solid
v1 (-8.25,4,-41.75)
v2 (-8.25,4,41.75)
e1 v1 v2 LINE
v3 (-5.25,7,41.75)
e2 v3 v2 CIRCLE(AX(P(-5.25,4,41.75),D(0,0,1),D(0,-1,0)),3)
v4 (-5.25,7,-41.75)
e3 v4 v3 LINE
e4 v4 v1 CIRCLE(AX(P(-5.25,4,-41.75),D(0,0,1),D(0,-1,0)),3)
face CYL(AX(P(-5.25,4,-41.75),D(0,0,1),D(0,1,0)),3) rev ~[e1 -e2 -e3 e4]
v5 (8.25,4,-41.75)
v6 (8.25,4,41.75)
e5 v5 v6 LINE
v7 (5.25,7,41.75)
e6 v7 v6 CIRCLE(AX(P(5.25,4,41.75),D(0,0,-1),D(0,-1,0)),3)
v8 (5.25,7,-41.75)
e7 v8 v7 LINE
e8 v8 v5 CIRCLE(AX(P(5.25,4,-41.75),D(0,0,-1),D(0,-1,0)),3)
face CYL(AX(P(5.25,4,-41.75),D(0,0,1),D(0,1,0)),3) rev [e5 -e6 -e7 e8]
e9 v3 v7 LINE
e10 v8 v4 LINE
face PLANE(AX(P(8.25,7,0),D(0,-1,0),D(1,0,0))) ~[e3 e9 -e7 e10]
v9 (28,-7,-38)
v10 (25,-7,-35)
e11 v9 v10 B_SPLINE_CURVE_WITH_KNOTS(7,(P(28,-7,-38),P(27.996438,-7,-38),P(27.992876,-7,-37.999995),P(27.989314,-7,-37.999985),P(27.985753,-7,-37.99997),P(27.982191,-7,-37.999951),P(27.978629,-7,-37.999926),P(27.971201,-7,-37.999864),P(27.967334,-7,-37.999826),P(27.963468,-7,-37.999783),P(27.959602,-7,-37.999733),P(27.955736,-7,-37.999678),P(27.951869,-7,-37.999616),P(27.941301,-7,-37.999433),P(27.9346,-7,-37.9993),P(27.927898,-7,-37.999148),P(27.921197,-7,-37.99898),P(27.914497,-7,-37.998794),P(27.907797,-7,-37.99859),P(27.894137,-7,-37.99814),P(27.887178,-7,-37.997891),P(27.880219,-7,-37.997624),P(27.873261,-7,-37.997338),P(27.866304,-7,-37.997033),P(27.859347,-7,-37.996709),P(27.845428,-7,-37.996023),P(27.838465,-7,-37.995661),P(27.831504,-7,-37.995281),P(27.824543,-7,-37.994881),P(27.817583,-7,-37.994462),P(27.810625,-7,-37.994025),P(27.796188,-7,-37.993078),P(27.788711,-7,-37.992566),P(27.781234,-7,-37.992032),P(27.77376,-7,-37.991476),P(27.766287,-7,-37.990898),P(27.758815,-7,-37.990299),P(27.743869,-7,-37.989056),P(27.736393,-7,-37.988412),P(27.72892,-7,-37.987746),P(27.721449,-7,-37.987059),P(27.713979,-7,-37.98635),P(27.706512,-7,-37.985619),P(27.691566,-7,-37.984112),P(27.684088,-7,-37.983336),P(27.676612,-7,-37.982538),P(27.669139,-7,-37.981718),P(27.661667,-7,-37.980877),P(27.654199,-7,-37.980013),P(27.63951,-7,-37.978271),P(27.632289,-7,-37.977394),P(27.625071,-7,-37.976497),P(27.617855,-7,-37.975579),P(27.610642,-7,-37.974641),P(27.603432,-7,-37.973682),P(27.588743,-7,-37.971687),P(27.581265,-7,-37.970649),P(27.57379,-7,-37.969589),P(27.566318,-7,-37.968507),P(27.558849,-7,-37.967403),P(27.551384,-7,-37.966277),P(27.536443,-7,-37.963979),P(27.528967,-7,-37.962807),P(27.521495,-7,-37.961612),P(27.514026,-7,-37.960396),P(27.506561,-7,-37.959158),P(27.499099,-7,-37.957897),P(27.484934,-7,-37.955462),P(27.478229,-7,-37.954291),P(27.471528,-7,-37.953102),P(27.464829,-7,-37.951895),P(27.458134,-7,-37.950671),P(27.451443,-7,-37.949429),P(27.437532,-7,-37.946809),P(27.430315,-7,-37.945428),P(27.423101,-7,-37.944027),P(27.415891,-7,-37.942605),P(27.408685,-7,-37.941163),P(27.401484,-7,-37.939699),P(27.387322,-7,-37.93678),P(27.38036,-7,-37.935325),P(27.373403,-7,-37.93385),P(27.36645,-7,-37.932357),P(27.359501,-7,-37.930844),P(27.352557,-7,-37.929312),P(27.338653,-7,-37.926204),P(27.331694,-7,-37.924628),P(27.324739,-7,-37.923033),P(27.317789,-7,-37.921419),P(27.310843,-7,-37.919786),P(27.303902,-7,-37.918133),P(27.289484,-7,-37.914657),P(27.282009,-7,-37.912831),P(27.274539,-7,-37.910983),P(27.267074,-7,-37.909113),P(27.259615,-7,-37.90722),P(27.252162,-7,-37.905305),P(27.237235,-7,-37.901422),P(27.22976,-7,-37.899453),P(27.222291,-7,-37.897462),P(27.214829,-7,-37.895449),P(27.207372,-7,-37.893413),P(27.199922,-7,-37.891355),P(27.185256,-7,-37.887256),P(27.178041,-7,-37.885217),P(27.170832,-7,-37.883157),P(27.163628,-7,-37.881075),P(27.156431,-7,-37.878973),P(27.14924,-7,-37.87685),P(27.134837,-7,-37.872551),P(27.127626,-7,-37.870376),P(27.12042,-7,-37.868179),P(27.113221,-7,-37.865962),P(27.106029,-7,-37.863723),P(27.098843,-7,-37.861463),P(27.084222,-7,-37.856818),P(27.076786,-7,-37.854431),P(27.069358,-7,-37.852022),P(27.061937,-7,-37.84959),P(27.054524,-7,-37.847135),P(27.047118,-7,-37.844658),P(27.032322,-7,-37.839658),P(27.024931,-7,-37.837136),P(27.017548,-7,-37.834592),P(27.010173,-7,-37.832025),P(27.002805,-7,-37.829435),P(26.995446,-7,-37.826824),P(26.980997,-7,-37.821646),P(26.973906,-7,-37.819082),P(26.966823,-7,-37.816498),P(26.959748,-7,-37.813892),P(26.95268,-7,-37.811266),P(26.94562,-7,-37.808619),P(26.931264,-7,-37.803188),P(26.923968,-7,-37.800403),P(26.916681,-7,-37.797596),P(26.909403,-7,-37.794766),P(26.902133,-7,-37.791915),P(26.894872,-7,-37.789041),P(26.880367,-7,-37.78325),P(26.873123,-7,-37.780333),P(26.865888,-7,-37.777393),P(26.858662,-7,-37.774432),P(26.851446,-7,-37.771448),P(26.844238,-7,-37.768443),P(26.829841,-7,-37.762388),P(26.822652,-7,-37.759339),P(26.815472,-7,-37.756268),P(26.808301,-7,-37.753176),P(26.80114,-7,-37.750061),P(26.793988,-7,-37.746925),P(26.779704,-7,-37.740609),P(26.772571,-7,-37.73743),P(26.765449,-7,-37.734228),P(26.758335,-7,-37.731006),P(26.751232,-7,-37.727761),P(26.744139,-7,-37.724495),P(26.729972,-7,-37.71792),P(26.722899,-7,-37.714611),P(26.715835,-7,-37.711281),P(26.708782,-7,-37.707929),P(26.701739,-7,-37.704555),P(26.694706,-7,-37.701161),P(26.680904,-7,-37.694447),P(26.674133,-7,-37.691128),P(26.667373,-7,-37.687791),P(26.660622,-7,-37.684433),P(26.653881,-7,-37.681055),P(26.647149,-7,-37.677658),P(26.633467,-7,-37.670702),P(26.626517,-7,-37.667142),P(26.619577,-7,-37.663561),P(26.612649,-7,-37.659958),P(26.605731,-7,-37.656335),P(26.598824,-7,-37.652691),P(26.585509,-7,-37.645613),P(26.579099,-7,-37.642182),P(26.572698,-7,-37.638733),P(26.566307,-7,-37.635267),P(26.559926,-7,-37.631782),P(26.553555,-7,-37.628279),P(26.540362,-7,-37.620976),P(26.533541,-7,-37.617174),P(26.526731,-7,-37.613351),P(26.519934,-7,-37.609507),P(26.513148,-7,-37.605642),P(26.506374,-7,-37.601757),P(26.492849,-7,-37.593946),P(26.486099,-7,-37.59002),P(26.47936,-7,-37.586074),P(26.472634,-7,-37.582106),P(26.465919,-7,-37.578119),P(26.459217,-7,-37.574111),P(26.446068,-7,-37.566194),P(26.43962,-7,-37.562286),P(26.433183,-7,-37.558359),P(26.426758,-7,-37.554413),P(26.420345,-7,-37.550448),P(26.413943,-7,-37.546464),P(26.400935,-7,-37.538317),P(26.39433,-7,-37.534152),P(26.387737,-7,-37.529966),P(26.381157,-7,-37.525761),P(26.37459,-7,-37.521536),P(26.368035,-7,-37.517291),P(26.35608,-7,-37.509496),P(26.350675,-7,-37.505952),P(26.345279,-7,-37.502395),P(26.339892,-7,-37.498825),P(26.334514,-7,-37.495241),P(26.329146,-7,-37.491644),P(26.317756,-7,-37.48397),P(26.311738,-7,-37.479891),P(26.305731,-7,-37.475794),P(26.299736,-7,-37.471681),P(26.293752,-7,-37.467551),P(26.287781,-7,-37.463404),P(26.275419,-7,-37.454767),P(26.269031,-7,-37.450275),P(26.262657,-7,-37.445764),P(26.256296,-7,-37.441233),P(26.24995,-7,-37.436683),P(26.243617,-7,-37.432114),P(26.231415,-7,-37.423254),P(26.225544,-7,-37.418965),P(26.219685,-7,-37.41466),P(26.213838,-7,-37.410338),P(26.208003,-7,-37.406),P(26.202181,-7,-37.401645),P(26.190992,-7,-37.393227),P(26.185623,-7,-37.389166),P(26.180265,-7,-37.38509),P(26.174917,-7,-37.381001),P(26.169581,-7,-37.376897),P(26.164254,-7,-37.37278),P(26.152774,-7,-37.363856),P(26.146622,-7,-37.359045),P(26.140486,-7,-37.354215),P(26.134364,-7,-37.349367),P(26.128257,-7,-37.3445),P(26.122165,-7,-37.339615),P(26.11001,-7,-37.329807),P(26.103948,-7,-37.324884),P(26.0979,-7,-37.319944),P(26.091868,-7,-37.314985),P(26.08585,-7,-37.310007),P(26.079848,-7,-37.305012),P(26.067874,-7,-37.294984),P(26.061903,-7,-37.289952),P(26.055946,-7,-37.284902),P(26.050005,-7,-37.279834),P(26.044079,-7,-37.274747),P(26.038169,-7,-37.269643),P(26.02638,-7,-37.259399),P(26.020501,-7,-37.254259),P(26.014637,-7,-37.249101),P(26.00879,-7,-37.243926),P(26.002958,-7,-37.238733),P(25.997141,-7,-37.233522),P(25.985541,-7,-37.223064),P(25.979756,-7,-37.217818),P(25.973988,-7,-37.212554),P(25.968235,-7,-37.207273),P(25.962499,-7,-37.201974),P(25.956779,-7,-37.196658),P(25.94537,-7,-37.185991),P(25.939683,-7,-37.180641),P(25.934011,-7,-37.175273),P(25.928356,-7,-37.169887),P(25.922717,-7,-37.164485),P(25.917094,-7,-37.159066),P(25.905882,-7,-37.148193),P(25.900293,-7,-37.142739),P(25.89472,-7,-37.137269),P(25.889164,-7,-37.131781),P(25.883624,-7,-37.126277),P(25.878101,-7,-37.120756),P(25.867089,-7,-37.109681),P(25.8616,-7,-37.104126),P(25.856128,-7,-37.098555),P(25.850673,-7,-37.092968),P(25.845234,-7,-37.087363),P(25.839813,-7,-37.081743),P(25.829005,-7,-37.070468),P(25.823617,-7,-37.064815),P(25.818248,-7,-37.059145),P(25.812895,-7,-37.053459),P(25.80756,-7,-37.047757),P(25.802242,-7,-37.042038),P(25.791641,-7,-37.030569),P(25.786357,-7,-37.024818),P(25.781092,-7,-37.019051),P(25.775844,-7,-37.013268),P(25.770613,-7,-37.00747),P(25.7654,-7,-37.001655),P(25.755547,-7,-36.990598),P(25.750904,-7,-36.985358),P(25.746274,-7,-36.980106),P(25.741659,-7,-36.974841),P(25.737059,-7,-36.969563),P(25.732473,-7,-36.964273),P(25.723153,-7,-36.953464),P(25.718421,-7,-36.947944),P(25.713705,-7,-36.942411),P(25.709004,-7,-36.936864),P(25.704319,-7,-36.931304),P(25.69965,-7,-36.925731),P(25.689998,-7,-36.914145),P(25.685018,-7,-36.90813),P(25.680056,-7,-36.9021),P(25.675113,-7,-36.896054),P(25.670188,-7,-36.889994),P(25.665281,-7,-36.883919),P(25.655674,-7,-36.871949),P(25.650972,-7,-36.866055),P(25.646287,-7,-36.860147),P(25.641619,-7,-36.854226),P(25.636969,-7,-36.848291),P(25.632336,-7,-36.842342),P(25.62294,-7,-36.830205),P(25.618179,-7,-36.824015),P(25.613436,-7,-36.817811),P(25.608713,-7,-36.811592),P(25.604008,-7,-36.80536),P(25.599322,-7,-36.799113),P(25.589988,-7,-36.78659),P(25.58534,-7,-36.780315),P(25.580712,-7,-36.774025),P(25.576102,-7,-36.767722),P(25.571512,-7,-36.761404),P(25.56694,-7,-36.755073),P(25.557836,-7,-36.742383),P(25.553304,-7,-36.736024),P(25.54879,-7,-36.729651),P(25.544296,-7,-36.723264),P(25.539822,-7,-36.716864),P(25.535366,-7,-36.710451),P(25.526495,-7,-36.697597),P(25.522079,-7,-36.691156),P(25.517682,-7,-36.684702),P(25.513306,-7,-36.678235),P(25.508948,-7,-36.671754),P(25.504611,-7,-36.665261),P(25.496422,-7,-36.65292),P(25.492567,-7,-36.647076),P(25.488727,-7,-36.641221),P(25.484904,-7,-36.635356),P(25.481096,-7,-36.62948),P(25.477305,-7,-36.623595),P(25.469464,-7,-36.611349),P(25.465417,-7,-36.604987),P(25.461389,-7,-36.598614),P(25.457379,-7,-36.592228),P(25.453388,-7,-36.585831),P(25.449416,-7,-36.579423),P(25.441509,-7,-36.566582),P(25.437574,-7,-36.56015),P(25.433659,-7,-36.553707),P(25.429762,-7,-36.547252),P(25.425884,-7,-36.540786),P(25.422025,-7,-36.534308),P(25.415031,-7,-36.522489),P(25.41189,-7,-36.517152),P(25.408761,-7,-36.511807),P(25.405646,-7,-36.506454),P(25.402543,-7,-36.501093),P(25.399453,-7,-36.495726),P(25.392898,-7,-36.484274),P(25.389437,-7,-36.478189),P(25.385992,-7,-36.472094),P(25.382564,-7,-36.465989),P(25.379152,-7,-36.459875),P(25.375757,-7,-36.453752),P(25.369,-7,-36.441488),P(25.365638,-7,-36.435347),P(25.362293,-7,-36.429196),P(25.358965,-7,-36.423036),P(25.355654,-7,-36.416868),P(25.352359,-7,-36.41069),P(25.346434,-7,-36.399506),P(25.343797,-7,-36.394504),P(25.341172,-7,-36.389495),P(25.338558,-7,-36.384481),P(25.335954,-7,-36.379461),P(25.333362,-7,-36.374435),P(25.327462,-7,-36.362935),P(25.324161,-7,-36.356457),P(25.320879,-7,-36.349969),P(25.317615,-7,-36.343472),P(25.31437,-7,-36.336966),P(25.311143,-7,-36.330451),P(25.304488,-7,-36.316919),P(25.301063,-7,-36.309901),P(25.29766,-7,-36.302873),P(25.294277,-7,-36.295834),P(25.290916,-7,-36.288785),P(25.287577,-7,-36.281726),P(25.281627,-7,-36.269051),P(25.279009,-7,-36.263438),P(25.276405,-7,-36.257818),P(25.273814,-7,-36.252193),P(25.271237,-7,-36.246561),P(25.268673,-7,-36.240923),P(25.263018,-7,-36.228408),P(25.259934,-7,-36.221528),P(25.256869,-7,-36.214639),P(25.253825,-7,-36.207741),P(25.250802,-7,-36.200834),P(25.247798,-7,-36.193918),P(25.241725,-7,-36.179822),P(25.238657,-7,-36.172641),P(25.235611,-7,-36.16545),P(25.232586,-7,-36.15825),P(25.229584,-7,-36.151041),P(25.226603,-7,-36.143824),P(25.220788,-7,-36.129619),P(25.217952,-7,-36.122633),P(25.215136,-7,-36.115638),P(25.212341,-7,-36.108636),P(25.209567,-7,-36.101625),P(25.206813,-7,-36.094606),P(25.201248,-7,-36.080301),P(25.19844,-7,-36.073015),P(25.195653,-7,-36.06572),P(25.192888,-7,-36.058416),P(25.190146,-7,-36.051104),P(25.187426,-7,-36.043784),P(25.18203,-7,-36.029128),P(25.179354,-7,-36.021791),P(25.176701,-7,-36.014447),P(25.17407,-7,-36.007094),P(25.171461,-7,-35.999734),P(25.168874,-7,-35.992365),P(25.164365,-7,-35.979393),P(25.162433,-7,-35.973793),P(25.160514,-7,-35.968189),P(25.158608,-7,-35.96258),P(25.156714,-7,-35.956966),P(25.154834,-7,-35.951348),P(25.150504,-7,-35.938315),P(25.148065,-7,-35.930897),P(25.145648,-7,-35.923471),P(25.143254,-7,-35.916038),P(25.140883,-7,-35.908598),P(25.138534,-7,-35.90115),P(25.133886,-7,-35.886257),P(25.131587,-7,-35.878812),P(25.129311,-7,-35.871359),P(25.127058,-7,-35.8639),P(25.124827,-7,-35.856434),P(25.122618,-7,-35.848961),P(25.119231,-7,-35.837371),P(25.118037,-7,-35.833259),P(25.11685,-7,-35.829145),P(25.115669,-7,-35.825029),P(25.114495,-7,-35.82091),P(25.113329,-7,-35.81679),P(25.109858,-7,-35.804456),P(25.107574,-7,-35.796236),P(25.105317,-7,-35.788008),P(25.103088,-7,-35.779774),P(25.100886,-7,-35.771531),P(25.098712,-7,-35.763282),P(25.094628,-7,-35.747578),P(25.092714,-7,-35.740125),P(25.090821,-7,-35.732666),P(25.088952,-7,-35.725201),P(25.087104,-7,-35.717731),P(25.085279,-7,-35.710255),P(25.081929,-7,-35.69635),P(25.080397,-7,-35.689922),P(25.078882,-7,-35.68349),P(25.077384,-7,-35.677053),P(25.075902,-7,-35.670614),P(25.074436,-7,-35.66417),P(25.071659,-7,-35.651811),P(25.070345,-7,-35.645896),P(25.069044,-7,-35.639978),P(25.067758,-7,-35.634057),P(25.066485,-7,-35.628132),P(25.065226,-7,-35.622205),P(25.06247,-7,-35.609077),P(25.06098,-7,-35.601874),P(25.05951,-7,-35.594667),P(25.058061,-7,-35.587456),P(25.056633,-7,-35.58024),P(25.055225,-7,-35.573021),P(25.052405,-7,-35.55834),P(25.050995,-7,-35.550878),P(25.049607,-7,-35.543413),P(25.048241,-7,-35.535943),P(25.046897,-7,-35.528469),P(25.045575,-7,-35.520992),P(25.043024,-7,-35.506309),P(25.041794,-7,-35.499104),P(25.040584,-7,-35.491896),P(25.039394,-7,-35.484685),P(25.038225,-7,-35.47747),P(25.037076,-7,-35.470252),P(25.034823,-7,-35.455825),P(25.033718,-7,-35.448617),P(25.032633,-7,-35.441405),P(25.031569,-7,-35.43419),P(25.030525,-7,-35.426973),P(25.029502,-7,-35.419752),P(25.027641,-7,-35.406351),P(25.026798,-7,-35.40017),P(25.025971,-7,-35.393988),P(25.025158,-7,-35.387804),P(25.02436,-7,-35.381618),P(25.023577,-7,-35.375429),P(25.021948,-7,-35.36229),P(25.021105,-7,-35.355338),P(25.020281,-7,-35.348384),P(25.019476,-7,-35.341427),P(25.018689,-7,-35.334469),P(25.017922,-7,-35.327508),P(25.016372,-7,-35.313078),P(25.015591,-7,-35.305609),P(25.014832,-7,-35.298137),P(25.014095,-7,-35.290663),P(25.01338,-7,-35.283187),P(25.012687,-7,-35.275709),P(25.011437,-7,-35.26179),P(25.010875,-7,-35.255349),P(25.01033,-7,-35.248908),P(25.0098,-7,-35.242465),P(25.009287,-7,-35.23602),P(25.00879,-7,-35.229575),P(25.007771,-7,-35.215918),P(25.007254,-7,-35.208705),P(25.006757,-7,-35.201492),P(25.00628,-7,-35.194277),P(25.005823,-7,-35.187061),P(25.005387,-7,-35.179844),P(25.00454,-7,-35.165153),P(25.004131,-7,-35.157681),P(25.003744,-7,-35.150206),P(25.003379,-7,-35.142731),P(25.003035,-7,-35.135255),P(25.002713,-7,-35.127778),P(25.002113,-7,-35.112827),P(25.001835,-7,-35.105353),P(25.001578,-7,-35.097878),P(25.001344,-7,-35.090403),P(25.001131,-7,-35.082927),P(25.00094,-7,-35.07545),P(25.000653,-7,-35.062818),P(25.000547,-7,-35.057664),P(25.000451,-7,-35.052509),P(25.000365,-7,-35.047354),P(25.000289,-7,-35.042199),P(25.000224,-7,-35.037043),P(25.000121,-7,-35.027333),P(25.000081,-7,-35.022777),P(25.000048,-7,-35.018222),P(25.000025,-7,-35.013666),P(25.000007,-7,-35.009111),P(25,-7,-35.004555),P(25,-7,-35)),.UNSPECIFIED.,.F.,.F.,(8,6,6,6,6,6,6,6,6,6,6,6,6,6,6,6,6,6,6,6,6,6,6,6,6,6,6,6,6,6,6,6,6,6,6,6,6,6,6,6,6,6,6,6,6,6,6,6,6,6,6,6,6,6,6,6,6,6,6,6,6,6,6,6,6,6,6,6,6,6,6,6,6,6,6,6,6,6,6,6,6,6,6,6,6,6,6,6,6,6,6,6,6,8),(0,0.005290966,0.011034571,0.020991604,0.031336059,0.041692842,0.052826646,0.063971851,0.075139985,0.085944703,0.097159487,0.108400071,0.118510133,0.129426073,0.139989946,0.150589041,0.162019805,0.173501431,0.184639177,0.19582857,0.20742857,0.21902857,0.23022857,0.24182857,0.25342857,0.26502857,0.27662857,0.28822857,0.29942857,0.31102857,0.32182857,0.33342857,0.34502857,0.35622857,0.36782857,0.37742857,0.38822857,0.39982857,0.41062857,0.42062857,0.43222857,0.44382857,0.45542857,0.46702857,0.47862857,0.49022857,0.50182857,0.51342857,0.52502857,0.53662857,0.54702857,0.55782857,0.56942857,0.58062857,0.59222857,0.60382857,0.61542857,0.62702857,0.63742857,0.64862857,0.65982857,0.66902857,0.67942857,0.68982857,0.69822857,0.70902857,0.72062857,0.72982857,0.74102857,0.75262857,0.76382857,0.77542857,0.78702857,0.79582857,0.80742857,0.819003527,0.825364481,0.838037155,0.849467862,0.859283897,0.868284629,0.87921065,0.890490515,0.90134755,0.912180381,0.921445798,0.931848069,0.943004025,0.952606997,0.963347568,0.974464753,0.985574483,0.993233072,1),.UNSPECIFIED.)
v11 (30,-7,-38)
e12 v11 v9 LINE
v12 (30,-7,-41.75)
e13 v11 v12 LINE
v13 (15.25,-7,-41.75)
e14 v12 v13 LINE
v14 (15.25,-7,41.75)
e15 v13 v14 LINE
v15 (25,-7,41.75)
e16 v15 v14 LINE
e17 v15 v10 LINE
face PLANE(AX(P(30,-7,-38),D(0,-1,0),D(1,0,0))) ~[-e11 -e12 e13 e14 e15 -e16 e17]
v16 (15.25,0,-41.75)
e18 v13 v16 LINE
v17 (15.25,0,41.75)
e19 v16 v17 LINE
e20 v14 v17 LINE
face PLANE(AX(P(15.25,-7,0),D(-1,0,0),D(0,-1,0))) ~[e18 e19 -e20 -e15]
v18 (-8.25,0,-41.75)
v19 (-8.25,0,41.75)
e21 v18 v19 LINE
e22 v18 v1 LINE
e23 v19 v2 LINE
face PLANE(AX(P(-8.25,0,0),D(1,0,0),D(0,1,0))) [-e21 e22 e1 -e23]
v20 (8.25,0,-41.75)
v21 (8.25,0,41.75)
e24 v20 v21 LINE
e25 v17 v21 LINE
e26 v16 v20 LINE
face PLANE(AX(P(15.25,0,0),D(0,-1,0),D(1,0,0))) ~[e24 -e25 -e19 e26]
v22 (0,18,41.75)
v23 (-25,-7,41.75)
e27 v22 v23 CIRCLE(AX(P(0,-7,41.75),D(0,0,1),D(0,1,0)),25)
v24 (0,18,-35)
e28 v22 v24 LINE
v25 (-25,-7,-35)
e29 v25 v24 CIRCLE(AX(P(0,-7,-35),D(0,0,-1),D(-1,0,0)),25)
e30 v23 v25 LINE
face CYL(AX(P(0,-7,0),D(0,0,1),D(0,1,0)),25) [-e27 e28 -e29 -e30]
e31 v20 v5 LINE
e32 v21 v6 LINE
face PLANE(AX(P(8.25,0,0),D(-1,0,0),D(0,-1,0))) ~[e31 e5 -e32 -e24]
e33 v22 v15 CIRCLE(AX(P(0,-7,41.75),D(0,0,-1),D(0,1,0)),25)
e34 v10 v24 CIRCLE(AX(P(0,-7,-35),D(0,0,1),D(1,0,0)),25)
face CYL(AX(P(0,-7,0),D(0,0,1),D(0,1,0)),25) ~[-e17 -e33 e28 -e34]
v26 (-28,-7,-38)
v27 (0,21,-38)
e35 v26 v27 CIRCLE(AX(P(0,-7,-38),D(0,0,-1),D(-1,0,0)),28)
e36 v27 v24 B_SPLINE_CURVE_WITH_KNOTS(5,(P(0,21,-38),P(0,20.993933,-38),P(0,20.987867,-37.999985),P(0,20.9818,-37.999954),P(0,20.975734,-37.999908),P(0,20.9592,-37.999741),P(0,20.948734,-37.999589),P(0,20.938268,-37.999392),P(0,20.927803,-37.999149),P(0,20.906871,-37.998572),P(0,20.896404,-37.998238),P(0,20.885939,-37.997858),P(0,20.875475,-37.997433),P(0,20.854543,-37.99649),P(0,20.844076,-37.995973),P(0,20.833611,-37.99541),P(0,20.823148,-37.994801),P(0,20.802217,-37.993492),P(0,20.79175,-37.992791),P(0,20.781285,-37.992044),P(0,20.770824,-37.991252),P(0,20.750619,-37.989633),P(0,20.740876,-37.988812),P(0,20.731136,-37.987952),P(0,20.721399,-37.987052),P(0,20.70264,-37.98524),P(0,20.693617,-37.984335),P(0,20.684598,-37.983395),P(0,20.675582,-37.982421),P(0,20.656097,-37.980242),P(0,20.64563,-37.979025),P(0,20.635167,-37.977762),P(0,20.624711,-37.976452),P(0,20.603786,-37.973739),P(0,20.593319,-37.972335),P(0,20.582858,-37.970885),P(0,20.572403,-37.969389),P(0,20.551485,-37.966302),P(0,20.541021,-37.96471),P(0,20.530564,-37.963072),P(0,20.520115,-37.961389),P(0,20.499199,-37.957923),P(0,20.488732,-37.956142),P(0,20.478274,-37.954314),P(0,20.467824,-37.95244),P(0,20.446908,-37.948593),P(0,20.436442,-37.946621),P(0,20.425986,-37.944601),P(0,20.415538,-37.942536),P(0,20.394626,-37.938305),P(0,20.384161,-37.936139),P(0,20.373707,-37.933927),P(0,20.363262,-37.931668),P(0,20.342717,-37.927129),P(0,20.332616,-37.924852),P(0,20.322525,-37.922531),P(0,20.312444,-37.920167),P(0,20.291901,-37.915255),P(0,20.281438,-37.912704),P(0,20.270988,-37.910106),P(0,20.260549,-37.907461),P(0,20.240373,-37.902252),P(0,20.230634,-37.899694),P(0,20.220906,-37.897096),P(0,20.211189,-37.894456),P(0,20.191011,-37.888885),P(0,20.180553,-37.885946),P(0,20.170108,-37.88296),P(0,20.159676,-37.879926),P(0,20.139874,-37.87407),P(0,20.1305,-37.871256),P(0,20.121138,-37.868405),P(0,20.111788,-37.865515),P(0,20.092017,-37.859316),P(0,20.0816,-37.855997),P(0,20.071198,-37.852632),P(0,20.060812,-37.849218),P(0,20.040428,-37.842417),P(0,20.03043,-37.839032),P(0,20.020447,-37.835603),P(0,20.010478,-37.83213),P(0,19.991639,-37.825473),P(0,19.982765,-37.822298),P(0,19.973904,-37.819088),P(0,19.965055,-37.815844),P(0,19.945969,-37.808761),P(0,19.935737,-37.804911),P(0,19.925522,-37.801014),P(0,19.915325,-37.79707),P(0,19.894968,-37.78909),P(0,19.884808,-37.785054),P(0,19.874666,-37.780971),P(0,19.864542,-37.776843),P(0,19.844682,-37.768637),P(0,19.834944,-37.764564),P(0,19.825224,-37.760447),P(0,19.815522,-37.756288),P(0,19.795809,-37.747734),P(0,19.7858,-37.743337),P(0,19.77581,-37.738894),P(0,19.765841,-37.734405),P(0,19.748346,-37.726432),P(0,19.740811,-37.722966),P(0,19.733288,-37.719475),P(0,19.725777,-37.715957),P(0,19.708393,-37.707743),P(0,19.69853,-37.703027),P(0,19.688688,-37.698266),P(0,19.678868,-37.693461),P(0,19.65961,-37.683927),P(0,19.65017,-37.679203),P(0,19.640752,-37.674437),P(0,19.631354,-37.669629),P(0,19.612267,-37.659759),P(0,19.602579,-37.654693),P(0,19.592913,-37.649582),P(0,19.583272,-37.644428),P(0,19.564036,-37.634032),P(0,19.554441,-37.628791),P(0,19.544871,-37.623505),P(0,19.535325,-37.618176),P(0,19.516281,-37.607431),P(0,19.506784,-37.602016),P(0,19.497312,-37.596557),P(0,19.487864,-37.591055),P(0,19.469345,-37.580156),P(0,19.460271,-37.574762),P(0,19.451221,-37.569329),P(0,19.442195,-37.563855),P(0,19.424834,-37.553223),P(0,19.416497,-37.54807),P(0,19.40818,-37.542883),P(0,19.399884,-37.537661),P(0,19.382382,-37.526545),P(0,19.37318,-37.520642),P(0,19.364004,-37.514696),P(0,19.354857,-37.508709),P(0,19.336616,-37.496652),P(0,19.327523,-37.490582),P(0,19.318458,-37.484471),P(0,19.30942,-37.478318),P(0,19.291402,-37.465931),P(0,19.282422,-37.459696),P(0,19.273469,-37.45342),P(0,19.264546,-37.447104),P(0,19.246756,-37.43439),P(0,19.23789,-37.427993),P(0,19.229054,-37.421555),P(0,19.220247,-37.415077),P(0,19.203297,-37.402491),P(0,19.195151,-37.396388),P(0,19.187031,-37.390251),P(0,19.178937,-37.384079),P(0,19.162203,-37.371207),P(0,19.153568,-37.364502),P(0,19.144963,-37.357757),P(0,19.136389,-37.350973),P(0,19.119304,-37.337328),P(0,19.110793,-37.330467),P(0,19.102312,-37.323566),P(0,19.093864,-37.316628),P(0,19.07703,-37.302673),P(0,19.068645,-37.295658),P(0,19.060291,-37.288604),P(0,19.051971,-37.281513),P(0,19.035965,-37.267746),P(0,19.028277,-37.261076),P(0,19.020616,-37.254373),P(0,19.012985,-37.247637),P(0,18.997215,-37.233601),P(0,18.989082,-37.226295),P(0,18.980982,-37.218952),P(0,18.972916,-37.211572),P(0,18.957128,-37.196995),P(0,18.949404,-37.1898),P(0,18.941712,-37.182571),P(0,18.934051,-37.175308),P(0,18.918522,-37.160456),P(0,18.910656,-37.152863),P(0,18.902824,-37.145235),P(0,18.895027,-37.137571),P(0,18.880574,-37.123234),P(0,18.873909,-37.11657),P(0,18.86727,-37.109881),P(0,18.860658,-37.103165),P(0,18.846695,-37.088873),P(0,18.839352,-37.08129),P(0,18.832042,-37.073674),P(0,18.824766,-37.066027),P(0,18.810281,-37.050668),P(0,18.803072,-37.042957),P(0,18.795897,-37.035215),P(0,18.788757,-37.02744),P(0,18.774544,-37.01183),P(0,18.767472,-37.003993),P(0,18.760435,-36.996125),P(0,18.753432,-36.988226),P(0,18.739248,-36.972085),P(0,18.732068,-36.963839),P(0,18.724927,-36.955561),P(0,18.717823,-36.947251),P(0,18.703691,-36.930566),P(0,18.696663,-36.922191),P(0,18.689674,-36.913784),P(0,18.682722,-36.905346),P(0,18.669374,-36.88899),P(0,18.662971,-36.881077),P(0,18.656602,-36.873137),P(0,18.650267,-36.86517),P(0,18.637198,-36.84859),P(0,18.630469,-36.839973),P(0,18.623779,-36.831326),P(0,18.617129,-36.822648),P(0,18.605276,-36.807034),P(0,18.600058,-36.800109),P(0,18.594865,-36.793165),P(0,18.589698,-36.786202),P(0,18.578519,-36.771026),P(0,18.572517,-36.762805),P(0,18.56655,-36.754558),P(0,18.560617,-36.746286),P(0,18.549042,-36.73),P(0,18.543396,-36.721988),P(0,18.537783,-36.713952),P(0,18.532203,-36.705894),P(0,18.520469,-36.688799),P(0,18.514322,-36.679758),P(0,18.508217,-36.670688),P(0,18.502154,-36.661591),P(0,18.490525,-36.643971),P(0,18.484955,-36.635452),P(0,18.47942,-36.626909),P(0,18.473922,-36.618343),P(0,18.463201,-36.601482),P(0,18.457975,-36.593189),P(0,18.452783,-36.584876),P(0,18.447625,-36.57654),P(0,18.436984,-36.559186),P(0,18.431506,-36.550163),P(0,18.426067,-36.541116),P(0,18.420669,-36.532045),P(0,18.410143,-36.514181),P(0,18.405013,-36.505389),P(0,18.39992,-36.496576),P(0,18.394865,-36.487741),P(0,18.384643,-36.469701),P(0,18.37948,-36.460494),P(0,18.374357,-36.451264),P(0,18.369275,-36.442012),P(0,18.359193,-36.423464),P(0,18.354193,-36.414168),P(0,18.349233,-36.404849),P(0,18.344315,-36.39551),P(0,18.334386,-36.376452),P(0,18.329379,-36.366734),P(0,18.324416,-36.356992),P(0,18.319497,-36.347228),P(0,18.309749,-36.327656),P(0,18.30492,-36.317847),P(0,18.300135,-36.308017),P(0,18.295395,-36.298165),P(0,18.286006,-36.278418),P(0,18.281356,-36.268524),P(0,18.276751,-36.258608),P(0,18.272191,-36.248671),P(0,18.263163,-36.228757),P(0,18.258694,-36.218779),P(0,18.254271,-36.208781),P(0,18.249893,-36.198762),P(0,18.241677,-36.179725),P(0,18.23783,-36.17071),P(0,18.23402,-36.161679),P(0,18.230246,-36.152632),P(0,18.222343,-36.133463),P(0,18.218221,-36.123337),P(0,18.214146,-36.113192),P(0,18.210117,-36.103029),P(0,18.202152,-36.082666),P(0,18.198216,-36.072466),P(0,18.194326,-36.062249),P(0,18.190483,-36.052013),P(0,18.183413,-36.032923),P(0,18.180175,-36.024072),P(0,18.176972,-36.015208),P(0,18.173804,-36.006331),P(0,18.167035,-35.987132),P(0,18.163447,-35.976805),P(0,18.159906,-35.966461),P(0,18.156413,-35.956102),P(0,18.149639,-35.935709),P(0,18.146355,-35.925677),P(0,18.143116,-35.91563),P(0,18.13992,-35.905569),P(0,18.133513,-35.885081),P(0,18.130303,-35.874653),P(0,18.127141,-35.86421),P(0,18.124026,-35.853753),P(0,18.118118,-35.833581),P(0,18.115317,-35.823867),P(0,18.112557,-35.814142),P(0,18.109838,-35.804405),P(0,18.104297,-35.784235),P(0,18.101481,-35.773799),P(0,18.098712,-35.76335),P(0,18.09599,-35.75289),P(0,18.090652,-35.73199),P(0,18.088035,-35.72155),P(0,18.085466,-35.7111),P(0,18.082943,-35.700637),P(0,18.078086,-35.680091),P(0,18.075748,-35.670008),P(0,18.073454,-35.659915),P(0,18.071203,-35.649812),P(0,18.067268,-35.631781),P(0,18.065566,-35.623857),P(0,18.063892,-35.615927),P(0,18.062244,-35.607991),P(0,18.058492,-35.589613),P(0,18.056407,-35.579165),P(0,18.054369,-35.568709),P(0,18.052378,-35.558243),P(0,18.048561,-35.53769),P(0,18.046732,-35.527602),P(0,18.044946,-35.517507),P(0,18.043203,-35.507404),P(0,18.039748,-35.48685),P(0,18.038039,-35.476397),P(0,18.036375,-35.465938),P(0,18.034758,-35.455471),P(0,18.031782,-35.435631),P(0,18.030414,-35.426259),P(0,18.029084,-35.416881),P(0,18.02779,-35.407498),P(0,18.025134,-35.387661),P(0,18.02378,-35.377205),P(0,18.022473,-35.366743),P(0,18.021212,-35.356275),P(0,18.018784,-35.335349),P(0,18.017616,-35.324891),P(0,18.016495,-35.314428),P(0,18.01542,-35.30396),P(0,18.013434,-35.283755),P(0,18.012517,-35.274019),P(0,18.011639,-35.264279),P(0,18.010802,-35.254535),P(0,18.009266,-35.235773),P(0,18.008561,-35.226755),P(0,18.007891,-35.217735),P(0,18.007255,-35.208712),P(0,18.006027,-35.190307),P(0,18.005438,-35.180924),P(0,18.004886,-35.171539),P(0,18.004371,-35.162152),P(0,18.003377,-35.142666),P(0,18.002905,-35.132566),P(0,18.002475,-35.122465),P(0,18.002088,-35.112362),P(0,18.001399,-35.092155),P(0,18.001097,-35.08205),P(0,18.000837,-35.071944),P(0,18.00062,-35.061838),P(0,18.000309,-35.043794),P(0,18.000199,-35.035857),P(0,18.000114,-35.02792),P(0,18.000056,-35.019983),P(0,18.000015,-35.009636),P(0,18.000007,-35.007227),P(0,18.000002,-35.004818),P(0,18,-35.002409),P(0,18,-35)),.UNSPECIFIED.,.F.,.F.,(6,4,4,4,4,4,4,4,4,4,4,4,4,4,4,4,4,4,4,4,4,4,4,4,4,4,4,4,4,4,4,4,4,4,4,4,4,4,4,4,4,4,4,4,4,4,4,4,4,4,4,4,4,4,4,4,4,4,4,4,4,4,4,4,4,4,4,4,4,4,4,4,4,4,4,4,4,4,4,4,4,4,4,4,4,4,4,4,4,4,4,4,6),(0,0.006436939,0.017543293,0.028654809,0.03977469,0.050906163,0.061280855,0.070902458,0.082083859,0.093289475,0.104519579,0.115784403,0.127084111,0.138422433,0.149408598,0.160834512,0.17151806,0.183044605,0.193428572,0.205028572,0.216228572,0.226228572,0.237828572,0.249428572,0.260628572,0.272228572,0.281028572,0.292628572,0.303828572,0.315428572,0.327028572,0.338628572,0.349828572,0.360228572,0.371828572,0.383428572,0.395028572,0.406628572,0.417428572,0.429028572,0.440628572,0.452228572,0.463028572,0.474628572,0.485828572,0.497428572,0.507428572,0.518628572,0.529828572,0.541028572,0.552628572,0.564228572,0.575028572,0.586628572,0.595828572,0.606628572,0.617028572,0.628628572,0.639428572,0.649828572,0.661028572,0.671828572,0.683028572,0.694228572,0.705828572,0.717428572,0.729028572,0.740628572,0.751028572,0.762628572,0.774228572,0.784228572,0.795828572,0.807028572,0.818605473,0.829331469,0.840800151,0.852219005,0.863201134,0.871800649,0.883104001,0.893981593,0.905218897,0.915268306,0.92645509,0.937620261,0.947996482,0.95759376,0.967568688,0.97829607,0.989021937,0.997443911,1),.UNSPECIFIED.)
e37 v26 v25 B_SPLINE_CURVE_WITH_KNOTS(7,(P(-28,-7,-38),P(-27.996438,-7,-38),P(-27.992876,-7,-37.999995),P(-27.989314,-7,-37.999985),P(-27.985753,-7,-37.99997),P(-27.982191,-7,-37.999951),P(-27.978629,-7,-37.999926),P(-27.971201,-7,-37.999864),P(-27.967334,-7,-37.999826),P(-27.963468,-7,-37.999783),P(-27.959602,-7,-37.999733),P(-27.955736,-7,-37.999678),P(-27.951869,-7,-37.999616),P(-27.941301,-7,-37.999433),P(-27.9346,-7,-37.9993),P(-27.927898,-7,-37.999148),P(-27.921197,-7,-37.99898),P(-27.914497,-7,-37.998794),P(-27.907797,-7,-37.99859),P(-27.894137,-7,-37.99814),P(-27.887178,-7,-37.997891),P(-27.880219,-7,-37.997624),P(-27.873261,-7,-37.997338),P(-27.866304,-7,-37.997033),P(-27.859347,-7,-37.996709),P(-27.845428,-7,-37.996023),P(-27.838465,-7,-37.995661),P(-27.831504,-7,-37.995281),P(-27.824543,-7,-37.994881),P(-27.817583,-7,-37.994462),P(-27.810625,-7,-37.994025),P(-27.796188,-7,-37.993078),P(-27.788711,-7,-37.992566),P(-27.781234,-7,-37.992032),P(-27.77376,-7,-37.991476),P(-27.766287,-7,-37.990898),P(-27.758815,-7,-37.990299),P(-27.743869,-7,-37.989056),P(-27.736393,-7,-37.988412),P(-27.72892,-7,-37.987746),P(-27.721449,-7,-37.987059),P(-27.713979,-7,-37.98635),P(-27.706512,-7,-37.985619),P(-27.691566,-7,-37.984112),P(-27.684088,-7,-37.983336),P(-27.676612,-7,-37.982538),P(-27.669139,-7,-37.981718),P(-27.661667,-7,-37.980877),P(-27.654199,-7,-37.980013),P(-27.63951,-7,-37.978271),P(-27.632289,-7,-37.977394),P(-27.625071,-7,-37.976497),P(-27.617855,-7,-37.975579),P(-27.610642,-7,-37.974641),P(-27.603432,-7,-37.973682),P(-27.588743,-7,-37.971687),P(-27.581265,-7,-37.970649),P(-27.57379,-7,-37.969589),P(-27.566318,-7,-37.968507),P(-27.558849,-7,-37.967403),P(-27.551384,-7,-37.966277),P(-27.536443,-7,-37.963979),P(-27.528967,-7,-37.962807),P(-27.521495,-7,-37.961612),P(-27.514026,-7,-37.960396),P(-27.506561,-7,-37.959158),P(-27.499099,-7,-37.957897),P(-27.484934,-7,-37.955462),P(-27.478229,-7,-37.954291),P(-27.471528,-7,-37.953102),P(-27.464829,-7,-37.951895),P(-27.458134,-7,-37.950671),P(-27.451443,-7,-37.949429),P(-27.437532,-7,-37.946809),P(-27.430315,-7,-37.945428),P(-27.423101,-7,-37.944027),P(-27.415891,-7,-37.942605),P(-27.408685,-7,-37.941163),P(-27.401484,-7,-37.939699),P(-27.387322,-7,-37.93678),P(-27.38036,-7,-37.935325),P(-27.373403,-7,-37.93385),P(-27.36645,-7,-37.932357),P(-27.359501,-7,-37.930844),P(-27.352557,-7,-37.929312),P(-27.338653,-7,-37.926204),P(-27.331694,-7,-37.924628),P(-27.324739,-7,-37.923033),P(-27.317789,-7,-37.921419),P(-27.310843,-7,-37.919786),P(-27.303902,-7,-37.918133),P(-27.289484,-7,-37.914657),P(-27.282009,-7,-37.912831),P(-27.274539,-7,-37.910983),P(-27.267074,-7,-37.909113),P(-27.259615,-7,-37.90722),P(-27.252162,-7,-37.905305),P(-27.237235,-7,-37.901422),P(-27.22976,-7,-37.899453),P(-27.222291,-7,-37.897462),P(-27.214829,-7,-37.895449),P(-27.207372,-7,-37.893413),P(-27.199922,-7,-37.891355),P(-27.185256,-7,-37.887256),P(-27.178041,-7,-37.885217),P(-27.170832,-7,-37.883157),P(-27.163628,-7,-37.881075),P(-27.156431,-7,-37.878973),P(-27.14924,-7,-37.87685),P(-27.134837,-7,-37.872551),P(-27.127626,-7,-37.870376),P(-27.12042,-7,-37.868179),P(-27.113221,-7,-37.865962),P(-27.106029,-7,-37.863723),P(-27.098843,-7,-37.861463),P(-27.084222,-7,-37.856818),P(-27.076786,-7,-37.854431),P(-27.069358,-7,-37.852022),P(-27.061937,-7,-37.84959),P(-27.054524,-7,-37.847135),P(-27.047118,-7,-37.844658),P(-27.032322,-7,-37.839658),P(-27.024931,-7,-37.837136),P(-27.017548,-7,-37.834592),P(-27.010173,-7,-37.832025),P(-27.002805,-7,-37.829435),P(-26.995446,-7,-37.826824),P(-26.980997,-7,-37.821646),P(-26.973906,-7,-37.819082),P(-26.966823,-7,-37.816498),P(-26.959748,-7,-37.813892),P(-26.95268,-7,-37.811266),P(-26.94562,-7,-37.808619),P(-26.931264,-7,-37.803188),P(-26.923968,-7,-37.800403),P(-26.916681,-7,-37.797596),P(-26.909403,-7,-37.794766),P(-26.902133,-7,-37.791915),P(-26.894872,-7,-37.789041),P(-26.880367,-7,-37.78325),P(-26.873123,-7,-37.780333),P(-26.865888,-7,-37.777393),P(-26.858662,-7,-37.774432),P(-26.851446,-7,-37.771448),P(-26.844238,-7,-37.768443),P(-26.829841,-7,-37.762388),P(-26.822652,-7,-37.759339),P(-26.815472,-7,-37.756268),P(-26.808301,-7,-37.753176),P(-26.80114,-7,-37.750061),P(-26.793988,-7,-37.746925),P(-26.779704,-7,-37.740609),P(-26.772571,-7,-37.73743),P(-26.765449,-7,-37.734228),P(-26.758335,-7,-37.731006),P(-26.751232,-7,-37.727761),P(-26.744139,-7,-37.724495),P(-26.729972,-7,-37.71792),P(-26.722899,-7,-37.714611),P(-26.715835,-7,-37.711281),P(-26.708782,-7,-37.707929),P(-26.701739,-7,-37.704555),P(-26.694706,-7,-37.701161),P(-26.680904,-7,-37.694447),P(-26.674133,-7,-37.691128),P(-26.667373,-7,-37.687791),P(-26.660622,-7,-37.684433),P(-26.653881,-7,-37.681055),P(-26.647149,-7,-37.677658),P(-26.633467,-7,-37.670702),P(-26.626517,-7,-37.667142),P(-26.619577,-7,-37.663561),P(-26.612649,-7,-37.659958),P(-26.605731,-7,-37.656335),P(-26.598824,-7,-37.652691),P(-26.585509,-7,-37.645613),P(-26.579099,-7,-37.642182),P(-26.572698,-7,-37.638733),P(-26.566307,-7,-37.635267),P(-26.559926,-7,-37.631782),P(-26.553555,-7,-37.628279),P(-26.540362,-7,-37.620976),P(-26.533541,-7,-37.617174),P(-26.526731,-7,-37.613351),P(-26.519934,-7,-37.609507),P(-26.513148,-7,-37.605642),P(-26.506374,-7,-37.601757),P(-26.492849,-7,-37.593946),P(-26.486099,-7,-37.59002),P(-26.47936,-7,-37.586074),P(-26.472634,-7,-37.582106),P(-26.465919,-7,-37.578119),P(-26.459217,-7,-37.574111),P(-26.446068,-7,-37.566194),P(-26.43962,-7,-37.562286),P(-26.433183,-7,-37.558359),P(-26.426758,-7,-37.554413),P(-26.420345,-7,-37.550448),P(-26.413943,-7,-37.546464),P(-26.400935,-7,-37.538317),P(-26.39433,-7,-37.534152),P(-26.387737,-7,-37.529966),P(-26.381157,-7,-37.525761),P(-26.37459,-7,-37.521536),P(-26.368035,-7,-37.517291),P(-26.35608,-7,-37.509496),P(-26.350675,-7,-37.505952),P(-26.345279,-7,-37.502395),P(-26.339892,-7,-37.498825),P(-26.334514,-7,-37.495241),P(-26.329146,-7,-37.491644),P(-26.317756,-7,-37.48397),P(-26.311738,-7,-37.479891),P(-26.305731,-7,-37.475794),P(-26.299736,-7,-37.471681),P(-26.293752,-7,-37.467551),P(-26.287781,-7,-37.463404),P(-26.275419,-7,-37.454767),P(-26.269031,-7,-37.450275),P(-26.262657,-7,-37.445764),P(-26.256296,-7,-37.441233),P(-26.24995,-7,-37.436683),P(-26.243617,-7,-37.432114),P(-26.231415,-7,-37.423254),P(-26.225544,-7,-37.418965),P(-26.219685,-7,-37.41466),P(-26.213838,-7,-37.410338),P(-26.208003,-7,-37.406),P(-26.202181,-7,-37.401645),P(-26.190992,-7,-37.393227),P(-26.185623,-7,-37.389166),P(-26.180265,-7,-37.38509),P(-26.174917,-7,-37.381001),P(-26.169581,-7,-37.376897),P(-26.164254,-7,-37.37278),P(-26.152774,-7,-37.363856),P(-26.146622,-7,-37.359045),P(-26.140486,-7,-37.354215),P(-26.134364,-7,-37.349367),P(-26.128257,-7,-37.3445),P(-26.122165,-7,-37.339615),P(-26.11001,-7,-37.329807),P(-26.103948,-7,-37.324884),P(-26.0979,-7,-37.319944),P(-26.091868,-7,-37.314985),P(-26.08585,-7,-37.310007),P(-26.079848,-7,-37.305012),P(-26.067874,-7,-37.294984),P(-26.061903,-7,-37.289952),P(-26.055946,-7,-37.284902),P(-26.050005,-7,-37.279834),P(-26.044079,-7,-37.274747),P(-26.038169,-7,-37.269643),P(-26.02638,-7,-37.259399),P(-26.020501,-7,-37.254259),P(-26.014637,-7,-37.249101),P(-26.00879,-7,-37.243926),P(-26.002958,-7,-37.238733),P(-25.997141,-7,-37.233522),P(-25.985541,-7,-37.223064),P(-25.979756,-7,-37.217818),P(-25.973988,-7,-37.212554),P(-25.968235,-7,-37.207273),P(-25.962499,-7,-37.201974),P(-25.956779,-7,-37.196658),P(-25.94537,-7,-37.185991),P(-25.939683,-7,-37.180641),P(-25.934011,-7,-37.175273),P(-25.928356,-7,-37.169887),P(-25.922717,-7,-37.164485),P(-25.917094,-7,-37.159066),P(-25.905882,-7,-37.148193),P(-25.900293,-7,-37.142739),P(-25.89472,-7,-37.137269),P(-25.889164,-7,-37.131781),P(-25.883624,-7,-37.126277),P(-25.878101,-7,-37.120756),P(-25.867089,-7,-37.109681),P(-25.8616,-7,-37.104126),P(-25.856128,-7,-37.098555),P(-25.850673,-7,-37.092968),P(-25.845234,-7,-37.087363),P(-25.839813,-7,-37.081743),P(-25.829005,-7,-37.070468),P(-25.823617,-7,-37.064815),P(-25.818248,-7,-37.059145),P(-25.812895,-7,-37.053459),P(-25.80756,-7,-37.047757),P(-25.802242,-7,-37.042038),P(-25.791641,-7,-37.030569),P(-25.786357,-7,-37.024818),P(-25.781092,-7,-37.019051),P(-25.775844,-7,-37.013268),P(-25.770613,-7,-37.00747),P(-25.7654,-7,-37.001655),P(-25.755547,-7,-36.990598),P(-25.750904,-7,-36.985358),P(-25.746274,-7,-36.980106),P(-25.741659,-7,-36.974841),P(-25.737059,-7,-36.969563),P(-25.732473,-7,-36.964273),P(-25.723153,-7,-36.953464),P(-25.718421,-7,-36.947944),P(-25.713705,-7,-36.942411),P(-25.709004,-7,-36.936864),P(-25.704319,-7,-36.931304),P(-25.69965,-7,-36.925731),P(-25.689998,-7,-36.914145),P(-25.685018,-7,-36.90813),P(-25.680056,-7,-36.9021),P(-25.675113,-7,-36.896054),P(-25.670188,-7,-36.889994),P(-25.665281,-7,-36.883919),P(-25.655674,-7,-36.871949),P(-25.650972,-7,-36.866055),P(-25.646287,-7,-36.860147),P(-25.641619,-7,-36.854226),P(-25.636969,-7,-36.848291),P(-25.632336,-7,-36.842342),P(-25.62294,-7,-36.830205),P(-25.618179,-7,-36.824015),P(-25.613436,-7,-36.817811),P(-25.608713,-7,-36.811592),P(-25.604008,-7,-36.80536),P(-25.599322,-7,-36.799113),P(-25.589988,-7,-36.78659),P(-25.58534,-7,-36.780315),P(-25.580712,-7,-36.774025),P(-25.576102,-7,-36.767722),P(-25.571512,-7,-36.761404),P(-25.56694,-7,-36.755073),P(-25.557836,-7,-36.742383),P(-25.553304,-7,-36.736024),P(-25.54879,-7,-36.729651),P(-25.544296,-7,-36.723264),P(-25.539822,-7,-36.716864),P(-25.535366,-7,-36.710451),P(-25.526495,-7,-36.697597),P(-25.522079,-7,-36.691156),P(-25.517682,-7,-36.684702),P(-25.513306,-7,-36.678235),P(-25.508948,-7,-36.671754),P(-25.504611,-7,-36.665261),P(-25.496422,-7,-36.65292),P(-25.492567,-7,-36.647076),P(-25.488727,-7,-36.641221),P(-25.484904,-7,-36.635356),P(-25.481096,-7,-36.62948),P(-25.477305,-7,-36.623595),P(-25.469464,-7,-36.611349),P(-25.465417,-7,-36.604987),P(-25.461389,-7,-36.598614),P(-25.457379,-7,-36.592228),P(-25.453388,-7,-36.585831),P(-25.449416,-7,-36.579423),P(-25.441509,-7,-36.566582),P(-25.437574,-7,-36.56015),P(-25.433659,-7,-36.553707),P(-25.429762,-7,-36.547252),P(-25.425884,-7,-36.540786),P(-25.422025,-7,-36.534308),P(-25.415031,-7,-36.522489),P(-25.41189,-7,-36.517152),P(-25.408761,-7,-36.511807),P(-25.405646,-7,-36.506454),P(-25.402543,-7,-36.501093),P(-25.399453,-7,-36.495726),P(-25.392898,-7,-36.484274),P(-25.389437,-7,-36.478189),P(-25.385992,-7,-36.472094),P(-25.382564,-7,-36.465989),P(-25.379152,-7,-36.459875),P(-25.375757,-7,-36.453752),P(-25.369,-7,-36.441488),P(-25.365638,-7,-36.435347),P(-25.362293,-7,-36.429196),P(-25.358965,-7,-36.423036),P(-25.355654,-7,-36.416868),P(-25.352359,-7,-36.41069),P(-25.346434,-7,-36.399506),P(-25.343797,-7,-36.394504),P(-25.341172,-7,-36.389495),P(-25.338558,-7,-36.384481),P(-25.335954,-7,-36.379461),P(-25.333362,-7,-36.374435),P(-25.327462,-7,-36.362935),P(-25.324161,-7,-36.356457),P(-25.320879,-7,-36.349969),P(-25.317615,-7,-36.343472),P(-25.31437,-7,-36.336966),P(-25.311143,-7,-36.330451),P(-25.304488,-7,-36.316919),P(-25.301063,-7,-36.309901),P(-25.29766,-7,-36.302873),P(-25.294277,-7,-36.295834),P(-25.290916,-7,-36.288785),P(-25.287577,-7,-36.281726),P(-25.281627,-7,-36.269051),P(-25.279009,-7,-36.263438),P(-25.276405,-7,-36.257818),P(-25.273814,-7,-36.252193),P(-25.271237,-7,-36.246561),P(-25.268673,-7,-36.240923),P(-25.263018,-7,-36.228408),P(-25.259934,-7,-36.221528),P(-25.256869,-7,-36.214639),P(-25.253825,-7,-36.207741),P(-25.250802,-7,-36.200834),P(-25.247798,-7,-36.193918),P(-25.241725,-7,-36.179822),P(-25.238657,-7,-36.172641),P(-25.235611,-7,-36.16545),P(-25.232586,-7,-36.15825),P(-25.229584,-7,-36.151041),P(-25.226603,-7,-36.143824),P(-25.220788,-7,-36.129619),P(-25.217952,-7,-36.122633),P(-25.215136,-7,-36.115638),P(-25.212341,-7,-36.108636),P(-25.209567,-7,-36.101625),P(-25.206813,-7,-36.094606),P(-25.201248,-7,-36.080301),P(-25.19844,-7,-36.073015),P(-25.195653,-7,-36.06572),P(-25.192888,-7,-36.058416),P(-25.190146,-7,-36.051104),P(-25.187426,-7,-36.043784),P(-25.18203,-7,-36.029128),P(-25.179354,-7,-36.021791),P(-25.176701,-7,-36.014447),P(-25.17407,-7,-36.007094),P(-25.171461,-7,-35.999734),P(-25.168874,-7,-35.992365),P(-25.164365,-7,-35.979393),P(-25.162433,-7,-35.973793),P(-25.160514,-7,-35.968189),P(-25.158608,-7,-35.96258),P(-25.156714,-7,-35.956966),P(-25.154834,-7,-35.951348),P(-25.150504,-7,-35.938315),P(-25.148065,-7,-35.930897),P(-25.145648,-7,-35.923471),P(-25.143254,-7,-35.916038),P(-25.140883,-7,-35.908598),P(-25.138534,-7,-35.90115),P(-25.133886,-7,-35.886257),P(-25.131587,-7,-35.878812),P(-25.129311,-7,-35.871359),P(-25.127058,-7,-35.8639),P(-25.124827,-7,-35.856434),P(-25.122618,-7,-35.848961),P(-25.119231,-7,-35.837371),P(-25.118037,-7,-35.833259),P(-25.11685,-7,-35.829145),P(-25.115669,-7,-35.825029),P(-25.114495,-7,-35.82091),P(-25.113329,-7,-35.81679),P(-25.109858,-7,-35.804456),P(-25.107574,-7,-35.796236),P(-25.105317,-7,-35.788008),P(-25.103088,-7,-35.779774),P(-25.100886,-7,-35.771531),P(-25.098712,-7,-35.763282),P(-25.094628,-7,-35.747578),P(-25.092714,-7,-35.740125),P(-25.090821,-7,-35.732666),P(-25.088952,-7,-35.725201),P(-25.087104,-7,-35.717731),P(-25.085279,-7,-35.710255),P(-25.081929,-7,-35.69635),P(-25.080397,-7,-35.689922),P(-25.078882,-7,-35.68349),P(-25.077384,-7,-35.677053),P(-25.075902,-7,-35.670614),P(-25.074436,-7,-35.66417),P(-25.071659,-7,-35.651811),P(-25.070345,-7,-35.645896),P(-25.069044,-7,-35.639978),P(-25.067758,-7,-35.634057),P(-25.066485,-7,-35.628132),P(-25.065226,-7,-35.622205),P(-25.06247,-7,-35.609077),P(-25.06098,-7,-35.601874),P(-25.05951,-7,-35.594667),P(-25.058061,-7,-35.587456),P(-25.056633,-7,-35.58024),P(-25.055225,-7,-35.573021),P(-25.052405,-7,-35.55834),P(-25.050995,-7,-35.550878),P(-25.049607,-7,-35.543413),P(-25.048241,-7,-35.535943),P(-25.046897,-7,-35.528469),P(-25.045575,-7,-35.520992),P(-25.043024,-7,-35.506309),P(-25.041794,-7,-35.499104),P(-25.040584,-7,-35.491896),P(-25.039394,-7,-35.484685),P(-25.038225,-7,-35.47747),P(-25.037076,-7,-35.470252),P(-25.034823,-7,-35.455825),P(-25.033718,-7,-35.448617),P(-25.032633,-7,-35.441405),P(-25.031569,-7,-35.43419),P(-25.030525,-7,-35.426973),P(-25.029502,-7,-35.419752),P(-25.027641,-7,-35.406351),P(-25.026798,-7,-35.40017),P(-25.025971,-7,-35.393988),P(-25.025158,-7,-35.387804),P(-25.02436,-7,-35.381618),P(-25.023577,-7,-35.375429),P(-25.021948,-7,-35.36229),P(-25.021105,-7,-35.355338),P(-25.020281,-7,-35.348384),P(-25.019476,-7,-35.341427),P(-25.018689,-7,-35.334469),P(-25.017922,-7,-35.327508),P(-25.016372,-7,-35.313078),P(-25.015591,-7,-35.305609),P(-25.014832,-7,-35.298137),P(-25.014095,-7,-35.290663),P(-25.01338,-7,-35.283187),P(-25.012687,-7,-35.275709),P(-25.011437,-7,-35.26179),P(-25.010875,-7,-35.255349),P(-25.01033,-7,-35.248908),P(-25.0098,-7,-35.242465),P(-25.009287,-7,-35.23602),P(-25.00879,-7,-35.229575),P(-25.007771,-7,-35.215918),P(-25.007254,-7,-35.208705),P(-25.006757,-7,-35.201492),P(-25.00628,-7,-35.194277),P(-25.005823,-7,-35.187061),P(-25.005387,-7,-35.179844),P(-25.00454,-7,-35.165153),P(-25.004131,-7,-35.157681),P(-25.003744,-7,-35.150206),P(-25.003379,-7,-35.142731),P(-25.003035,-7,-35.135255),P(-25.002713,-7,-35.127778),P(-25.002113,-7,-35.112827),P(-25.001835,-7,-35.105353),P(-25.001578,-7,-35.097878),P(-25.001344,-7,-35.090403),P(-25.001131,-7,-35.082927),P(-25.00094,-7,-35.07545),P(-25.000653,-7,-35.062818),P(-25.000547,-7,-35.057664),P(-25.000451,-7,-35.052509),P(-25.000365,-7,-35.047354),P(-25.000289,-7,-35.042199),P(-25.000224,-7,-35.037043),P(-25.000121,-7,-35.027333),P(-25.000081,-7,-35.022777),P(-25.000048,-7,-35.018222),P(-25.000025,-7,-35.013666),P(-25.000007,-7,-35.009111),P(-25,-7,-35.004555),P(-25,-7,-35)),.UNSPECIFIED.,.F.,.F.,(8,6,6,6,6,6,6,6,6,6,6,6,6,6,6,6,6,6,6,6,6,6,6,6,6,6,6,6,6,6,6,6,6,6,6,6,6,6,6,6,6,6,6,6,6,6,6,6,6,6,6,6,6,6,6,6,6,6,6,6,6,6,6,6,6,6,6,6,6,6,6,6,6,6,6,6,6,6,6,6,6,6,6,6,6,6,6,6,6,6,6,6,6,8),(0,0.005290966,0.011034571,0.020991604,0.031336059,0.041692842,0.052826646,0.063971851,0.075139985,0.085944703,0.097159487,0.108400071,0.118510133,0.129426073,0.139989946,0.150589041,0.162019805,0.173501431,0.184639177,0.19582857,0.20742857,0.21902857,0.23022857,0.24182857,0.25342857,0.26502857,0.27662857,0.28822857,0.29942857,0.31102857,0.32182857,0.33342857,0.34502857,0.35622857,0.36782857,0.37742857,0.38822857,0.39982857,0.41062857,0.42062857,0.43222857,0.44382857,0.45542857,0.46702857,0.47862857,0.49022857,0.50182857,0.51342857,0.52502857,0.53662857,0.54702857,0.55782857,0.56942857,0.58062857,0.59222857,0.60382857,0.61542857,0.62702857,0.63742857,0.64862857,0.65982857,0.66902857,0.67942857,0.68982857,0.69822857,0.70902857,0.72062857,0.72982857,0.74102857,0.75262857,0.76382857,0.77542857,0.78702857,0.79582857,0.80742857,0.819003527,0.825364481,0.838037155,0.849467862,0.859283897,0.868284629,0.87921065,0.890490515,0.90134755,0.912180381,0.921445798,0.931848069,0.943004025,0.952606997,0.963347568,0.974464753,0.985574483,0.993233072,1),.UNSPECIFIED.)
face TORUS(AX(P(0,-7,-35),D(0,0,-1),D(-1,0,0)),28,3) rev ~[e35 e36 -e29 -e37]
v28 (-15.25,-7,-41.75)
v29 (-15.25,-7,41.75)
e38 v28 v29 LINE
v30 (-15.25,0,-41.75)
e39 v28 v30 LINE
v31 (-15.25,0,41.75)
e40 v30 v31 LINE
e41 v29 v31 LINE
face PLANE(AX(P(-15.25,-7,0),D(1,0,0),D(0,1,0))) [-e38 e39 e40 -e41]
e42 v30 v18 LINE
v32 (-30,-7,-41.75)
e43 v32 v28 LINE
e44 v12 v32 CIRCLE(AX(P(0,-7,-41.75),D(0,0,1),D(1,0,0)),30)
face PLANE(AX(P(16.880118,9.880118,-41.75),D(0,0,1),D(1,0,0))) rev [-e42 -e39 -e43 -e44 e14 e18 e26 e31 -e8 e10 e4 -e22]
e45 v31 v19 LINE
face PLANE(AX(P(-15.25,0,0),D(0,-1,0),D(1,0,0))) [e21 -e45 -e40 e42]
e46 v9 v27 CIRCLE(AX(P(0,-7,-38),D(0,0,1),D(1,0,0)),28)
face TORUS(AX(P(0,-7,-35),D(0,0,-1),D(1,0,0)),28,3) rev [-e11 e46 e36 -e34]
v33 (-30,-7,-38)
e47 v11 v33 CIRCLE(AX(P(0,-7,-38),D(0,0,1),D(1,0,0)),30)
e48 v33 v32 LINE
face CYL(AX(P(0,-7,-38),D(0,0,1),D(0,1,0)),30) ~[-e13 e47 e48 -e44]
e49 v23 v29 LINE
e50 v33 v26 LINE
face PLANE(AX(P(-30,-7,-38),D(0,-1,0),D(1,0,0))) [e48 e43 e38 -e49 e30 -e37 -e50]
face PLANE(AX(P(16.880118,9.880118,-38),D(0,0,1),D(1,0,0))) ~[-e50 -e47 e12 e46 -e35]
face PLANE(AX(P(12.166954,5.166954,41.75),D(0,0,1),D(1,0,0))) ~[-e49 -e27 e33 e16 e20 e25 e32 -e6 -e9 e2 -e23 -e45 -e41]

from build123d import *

# Parameters (mm, degrees)
F1_DEPTH = 41.75
F2_START = -38
F2_DEPTH = 3.75
F3_R     = 3


with BuildPart() as f1:
    # F0 (on Top) → F1 (new body, symmetric)
    with BuildSketch(Plane.XY):
        with BuildLine():
            Line((-25, -7), (-15.25, -7))
            Line((-15.25, -7), (-15.25, 0))
            Line((-15.25, 0), (-8.25, 0))
            Line((-8.25, 0), (-8.25, 7))
            Line((-8.25, 7), (0, 7))
            Line((0, 7), (0, 18))
            ThreePointArc((0, 18), (-17.6776695297, 10.6776695297), (-25, -7))
        make_face()
    extrude(amount=F1_DEPTH, both=True)

    # F0 (on Top) → F2 (join)
    with BuildSketch(Plane.XY.offset(F2_START)):
        with BuildLine():
            Line((-30, -7), (-25, -7))
            ThreePointArc((-25, -7), (-17.6776695297, 10.6776695297), (0, 18))
            Line((0, 18), (0, 23))
            ThreePointArc((0, 23), (-21.2132034356, 14.2132034356), (-30, -7))
        make_face()
    extrude(amount=-F2_DEPTH)

    # F3
    f3_edges = [f1.edges().sort_by_distance(p)[0] for p in [
        (-8.25, 7, 0),
        (-17.67767, 10.67767, -38),
    ]]
    fillet(f3_edges, radius=F3_R)

    # F4: F1 across plane


with BuildPart() as f1_1:
    add(f1.part)
    add(f1.part.mirror(Plane.YZ))


solid = f1_1.part
